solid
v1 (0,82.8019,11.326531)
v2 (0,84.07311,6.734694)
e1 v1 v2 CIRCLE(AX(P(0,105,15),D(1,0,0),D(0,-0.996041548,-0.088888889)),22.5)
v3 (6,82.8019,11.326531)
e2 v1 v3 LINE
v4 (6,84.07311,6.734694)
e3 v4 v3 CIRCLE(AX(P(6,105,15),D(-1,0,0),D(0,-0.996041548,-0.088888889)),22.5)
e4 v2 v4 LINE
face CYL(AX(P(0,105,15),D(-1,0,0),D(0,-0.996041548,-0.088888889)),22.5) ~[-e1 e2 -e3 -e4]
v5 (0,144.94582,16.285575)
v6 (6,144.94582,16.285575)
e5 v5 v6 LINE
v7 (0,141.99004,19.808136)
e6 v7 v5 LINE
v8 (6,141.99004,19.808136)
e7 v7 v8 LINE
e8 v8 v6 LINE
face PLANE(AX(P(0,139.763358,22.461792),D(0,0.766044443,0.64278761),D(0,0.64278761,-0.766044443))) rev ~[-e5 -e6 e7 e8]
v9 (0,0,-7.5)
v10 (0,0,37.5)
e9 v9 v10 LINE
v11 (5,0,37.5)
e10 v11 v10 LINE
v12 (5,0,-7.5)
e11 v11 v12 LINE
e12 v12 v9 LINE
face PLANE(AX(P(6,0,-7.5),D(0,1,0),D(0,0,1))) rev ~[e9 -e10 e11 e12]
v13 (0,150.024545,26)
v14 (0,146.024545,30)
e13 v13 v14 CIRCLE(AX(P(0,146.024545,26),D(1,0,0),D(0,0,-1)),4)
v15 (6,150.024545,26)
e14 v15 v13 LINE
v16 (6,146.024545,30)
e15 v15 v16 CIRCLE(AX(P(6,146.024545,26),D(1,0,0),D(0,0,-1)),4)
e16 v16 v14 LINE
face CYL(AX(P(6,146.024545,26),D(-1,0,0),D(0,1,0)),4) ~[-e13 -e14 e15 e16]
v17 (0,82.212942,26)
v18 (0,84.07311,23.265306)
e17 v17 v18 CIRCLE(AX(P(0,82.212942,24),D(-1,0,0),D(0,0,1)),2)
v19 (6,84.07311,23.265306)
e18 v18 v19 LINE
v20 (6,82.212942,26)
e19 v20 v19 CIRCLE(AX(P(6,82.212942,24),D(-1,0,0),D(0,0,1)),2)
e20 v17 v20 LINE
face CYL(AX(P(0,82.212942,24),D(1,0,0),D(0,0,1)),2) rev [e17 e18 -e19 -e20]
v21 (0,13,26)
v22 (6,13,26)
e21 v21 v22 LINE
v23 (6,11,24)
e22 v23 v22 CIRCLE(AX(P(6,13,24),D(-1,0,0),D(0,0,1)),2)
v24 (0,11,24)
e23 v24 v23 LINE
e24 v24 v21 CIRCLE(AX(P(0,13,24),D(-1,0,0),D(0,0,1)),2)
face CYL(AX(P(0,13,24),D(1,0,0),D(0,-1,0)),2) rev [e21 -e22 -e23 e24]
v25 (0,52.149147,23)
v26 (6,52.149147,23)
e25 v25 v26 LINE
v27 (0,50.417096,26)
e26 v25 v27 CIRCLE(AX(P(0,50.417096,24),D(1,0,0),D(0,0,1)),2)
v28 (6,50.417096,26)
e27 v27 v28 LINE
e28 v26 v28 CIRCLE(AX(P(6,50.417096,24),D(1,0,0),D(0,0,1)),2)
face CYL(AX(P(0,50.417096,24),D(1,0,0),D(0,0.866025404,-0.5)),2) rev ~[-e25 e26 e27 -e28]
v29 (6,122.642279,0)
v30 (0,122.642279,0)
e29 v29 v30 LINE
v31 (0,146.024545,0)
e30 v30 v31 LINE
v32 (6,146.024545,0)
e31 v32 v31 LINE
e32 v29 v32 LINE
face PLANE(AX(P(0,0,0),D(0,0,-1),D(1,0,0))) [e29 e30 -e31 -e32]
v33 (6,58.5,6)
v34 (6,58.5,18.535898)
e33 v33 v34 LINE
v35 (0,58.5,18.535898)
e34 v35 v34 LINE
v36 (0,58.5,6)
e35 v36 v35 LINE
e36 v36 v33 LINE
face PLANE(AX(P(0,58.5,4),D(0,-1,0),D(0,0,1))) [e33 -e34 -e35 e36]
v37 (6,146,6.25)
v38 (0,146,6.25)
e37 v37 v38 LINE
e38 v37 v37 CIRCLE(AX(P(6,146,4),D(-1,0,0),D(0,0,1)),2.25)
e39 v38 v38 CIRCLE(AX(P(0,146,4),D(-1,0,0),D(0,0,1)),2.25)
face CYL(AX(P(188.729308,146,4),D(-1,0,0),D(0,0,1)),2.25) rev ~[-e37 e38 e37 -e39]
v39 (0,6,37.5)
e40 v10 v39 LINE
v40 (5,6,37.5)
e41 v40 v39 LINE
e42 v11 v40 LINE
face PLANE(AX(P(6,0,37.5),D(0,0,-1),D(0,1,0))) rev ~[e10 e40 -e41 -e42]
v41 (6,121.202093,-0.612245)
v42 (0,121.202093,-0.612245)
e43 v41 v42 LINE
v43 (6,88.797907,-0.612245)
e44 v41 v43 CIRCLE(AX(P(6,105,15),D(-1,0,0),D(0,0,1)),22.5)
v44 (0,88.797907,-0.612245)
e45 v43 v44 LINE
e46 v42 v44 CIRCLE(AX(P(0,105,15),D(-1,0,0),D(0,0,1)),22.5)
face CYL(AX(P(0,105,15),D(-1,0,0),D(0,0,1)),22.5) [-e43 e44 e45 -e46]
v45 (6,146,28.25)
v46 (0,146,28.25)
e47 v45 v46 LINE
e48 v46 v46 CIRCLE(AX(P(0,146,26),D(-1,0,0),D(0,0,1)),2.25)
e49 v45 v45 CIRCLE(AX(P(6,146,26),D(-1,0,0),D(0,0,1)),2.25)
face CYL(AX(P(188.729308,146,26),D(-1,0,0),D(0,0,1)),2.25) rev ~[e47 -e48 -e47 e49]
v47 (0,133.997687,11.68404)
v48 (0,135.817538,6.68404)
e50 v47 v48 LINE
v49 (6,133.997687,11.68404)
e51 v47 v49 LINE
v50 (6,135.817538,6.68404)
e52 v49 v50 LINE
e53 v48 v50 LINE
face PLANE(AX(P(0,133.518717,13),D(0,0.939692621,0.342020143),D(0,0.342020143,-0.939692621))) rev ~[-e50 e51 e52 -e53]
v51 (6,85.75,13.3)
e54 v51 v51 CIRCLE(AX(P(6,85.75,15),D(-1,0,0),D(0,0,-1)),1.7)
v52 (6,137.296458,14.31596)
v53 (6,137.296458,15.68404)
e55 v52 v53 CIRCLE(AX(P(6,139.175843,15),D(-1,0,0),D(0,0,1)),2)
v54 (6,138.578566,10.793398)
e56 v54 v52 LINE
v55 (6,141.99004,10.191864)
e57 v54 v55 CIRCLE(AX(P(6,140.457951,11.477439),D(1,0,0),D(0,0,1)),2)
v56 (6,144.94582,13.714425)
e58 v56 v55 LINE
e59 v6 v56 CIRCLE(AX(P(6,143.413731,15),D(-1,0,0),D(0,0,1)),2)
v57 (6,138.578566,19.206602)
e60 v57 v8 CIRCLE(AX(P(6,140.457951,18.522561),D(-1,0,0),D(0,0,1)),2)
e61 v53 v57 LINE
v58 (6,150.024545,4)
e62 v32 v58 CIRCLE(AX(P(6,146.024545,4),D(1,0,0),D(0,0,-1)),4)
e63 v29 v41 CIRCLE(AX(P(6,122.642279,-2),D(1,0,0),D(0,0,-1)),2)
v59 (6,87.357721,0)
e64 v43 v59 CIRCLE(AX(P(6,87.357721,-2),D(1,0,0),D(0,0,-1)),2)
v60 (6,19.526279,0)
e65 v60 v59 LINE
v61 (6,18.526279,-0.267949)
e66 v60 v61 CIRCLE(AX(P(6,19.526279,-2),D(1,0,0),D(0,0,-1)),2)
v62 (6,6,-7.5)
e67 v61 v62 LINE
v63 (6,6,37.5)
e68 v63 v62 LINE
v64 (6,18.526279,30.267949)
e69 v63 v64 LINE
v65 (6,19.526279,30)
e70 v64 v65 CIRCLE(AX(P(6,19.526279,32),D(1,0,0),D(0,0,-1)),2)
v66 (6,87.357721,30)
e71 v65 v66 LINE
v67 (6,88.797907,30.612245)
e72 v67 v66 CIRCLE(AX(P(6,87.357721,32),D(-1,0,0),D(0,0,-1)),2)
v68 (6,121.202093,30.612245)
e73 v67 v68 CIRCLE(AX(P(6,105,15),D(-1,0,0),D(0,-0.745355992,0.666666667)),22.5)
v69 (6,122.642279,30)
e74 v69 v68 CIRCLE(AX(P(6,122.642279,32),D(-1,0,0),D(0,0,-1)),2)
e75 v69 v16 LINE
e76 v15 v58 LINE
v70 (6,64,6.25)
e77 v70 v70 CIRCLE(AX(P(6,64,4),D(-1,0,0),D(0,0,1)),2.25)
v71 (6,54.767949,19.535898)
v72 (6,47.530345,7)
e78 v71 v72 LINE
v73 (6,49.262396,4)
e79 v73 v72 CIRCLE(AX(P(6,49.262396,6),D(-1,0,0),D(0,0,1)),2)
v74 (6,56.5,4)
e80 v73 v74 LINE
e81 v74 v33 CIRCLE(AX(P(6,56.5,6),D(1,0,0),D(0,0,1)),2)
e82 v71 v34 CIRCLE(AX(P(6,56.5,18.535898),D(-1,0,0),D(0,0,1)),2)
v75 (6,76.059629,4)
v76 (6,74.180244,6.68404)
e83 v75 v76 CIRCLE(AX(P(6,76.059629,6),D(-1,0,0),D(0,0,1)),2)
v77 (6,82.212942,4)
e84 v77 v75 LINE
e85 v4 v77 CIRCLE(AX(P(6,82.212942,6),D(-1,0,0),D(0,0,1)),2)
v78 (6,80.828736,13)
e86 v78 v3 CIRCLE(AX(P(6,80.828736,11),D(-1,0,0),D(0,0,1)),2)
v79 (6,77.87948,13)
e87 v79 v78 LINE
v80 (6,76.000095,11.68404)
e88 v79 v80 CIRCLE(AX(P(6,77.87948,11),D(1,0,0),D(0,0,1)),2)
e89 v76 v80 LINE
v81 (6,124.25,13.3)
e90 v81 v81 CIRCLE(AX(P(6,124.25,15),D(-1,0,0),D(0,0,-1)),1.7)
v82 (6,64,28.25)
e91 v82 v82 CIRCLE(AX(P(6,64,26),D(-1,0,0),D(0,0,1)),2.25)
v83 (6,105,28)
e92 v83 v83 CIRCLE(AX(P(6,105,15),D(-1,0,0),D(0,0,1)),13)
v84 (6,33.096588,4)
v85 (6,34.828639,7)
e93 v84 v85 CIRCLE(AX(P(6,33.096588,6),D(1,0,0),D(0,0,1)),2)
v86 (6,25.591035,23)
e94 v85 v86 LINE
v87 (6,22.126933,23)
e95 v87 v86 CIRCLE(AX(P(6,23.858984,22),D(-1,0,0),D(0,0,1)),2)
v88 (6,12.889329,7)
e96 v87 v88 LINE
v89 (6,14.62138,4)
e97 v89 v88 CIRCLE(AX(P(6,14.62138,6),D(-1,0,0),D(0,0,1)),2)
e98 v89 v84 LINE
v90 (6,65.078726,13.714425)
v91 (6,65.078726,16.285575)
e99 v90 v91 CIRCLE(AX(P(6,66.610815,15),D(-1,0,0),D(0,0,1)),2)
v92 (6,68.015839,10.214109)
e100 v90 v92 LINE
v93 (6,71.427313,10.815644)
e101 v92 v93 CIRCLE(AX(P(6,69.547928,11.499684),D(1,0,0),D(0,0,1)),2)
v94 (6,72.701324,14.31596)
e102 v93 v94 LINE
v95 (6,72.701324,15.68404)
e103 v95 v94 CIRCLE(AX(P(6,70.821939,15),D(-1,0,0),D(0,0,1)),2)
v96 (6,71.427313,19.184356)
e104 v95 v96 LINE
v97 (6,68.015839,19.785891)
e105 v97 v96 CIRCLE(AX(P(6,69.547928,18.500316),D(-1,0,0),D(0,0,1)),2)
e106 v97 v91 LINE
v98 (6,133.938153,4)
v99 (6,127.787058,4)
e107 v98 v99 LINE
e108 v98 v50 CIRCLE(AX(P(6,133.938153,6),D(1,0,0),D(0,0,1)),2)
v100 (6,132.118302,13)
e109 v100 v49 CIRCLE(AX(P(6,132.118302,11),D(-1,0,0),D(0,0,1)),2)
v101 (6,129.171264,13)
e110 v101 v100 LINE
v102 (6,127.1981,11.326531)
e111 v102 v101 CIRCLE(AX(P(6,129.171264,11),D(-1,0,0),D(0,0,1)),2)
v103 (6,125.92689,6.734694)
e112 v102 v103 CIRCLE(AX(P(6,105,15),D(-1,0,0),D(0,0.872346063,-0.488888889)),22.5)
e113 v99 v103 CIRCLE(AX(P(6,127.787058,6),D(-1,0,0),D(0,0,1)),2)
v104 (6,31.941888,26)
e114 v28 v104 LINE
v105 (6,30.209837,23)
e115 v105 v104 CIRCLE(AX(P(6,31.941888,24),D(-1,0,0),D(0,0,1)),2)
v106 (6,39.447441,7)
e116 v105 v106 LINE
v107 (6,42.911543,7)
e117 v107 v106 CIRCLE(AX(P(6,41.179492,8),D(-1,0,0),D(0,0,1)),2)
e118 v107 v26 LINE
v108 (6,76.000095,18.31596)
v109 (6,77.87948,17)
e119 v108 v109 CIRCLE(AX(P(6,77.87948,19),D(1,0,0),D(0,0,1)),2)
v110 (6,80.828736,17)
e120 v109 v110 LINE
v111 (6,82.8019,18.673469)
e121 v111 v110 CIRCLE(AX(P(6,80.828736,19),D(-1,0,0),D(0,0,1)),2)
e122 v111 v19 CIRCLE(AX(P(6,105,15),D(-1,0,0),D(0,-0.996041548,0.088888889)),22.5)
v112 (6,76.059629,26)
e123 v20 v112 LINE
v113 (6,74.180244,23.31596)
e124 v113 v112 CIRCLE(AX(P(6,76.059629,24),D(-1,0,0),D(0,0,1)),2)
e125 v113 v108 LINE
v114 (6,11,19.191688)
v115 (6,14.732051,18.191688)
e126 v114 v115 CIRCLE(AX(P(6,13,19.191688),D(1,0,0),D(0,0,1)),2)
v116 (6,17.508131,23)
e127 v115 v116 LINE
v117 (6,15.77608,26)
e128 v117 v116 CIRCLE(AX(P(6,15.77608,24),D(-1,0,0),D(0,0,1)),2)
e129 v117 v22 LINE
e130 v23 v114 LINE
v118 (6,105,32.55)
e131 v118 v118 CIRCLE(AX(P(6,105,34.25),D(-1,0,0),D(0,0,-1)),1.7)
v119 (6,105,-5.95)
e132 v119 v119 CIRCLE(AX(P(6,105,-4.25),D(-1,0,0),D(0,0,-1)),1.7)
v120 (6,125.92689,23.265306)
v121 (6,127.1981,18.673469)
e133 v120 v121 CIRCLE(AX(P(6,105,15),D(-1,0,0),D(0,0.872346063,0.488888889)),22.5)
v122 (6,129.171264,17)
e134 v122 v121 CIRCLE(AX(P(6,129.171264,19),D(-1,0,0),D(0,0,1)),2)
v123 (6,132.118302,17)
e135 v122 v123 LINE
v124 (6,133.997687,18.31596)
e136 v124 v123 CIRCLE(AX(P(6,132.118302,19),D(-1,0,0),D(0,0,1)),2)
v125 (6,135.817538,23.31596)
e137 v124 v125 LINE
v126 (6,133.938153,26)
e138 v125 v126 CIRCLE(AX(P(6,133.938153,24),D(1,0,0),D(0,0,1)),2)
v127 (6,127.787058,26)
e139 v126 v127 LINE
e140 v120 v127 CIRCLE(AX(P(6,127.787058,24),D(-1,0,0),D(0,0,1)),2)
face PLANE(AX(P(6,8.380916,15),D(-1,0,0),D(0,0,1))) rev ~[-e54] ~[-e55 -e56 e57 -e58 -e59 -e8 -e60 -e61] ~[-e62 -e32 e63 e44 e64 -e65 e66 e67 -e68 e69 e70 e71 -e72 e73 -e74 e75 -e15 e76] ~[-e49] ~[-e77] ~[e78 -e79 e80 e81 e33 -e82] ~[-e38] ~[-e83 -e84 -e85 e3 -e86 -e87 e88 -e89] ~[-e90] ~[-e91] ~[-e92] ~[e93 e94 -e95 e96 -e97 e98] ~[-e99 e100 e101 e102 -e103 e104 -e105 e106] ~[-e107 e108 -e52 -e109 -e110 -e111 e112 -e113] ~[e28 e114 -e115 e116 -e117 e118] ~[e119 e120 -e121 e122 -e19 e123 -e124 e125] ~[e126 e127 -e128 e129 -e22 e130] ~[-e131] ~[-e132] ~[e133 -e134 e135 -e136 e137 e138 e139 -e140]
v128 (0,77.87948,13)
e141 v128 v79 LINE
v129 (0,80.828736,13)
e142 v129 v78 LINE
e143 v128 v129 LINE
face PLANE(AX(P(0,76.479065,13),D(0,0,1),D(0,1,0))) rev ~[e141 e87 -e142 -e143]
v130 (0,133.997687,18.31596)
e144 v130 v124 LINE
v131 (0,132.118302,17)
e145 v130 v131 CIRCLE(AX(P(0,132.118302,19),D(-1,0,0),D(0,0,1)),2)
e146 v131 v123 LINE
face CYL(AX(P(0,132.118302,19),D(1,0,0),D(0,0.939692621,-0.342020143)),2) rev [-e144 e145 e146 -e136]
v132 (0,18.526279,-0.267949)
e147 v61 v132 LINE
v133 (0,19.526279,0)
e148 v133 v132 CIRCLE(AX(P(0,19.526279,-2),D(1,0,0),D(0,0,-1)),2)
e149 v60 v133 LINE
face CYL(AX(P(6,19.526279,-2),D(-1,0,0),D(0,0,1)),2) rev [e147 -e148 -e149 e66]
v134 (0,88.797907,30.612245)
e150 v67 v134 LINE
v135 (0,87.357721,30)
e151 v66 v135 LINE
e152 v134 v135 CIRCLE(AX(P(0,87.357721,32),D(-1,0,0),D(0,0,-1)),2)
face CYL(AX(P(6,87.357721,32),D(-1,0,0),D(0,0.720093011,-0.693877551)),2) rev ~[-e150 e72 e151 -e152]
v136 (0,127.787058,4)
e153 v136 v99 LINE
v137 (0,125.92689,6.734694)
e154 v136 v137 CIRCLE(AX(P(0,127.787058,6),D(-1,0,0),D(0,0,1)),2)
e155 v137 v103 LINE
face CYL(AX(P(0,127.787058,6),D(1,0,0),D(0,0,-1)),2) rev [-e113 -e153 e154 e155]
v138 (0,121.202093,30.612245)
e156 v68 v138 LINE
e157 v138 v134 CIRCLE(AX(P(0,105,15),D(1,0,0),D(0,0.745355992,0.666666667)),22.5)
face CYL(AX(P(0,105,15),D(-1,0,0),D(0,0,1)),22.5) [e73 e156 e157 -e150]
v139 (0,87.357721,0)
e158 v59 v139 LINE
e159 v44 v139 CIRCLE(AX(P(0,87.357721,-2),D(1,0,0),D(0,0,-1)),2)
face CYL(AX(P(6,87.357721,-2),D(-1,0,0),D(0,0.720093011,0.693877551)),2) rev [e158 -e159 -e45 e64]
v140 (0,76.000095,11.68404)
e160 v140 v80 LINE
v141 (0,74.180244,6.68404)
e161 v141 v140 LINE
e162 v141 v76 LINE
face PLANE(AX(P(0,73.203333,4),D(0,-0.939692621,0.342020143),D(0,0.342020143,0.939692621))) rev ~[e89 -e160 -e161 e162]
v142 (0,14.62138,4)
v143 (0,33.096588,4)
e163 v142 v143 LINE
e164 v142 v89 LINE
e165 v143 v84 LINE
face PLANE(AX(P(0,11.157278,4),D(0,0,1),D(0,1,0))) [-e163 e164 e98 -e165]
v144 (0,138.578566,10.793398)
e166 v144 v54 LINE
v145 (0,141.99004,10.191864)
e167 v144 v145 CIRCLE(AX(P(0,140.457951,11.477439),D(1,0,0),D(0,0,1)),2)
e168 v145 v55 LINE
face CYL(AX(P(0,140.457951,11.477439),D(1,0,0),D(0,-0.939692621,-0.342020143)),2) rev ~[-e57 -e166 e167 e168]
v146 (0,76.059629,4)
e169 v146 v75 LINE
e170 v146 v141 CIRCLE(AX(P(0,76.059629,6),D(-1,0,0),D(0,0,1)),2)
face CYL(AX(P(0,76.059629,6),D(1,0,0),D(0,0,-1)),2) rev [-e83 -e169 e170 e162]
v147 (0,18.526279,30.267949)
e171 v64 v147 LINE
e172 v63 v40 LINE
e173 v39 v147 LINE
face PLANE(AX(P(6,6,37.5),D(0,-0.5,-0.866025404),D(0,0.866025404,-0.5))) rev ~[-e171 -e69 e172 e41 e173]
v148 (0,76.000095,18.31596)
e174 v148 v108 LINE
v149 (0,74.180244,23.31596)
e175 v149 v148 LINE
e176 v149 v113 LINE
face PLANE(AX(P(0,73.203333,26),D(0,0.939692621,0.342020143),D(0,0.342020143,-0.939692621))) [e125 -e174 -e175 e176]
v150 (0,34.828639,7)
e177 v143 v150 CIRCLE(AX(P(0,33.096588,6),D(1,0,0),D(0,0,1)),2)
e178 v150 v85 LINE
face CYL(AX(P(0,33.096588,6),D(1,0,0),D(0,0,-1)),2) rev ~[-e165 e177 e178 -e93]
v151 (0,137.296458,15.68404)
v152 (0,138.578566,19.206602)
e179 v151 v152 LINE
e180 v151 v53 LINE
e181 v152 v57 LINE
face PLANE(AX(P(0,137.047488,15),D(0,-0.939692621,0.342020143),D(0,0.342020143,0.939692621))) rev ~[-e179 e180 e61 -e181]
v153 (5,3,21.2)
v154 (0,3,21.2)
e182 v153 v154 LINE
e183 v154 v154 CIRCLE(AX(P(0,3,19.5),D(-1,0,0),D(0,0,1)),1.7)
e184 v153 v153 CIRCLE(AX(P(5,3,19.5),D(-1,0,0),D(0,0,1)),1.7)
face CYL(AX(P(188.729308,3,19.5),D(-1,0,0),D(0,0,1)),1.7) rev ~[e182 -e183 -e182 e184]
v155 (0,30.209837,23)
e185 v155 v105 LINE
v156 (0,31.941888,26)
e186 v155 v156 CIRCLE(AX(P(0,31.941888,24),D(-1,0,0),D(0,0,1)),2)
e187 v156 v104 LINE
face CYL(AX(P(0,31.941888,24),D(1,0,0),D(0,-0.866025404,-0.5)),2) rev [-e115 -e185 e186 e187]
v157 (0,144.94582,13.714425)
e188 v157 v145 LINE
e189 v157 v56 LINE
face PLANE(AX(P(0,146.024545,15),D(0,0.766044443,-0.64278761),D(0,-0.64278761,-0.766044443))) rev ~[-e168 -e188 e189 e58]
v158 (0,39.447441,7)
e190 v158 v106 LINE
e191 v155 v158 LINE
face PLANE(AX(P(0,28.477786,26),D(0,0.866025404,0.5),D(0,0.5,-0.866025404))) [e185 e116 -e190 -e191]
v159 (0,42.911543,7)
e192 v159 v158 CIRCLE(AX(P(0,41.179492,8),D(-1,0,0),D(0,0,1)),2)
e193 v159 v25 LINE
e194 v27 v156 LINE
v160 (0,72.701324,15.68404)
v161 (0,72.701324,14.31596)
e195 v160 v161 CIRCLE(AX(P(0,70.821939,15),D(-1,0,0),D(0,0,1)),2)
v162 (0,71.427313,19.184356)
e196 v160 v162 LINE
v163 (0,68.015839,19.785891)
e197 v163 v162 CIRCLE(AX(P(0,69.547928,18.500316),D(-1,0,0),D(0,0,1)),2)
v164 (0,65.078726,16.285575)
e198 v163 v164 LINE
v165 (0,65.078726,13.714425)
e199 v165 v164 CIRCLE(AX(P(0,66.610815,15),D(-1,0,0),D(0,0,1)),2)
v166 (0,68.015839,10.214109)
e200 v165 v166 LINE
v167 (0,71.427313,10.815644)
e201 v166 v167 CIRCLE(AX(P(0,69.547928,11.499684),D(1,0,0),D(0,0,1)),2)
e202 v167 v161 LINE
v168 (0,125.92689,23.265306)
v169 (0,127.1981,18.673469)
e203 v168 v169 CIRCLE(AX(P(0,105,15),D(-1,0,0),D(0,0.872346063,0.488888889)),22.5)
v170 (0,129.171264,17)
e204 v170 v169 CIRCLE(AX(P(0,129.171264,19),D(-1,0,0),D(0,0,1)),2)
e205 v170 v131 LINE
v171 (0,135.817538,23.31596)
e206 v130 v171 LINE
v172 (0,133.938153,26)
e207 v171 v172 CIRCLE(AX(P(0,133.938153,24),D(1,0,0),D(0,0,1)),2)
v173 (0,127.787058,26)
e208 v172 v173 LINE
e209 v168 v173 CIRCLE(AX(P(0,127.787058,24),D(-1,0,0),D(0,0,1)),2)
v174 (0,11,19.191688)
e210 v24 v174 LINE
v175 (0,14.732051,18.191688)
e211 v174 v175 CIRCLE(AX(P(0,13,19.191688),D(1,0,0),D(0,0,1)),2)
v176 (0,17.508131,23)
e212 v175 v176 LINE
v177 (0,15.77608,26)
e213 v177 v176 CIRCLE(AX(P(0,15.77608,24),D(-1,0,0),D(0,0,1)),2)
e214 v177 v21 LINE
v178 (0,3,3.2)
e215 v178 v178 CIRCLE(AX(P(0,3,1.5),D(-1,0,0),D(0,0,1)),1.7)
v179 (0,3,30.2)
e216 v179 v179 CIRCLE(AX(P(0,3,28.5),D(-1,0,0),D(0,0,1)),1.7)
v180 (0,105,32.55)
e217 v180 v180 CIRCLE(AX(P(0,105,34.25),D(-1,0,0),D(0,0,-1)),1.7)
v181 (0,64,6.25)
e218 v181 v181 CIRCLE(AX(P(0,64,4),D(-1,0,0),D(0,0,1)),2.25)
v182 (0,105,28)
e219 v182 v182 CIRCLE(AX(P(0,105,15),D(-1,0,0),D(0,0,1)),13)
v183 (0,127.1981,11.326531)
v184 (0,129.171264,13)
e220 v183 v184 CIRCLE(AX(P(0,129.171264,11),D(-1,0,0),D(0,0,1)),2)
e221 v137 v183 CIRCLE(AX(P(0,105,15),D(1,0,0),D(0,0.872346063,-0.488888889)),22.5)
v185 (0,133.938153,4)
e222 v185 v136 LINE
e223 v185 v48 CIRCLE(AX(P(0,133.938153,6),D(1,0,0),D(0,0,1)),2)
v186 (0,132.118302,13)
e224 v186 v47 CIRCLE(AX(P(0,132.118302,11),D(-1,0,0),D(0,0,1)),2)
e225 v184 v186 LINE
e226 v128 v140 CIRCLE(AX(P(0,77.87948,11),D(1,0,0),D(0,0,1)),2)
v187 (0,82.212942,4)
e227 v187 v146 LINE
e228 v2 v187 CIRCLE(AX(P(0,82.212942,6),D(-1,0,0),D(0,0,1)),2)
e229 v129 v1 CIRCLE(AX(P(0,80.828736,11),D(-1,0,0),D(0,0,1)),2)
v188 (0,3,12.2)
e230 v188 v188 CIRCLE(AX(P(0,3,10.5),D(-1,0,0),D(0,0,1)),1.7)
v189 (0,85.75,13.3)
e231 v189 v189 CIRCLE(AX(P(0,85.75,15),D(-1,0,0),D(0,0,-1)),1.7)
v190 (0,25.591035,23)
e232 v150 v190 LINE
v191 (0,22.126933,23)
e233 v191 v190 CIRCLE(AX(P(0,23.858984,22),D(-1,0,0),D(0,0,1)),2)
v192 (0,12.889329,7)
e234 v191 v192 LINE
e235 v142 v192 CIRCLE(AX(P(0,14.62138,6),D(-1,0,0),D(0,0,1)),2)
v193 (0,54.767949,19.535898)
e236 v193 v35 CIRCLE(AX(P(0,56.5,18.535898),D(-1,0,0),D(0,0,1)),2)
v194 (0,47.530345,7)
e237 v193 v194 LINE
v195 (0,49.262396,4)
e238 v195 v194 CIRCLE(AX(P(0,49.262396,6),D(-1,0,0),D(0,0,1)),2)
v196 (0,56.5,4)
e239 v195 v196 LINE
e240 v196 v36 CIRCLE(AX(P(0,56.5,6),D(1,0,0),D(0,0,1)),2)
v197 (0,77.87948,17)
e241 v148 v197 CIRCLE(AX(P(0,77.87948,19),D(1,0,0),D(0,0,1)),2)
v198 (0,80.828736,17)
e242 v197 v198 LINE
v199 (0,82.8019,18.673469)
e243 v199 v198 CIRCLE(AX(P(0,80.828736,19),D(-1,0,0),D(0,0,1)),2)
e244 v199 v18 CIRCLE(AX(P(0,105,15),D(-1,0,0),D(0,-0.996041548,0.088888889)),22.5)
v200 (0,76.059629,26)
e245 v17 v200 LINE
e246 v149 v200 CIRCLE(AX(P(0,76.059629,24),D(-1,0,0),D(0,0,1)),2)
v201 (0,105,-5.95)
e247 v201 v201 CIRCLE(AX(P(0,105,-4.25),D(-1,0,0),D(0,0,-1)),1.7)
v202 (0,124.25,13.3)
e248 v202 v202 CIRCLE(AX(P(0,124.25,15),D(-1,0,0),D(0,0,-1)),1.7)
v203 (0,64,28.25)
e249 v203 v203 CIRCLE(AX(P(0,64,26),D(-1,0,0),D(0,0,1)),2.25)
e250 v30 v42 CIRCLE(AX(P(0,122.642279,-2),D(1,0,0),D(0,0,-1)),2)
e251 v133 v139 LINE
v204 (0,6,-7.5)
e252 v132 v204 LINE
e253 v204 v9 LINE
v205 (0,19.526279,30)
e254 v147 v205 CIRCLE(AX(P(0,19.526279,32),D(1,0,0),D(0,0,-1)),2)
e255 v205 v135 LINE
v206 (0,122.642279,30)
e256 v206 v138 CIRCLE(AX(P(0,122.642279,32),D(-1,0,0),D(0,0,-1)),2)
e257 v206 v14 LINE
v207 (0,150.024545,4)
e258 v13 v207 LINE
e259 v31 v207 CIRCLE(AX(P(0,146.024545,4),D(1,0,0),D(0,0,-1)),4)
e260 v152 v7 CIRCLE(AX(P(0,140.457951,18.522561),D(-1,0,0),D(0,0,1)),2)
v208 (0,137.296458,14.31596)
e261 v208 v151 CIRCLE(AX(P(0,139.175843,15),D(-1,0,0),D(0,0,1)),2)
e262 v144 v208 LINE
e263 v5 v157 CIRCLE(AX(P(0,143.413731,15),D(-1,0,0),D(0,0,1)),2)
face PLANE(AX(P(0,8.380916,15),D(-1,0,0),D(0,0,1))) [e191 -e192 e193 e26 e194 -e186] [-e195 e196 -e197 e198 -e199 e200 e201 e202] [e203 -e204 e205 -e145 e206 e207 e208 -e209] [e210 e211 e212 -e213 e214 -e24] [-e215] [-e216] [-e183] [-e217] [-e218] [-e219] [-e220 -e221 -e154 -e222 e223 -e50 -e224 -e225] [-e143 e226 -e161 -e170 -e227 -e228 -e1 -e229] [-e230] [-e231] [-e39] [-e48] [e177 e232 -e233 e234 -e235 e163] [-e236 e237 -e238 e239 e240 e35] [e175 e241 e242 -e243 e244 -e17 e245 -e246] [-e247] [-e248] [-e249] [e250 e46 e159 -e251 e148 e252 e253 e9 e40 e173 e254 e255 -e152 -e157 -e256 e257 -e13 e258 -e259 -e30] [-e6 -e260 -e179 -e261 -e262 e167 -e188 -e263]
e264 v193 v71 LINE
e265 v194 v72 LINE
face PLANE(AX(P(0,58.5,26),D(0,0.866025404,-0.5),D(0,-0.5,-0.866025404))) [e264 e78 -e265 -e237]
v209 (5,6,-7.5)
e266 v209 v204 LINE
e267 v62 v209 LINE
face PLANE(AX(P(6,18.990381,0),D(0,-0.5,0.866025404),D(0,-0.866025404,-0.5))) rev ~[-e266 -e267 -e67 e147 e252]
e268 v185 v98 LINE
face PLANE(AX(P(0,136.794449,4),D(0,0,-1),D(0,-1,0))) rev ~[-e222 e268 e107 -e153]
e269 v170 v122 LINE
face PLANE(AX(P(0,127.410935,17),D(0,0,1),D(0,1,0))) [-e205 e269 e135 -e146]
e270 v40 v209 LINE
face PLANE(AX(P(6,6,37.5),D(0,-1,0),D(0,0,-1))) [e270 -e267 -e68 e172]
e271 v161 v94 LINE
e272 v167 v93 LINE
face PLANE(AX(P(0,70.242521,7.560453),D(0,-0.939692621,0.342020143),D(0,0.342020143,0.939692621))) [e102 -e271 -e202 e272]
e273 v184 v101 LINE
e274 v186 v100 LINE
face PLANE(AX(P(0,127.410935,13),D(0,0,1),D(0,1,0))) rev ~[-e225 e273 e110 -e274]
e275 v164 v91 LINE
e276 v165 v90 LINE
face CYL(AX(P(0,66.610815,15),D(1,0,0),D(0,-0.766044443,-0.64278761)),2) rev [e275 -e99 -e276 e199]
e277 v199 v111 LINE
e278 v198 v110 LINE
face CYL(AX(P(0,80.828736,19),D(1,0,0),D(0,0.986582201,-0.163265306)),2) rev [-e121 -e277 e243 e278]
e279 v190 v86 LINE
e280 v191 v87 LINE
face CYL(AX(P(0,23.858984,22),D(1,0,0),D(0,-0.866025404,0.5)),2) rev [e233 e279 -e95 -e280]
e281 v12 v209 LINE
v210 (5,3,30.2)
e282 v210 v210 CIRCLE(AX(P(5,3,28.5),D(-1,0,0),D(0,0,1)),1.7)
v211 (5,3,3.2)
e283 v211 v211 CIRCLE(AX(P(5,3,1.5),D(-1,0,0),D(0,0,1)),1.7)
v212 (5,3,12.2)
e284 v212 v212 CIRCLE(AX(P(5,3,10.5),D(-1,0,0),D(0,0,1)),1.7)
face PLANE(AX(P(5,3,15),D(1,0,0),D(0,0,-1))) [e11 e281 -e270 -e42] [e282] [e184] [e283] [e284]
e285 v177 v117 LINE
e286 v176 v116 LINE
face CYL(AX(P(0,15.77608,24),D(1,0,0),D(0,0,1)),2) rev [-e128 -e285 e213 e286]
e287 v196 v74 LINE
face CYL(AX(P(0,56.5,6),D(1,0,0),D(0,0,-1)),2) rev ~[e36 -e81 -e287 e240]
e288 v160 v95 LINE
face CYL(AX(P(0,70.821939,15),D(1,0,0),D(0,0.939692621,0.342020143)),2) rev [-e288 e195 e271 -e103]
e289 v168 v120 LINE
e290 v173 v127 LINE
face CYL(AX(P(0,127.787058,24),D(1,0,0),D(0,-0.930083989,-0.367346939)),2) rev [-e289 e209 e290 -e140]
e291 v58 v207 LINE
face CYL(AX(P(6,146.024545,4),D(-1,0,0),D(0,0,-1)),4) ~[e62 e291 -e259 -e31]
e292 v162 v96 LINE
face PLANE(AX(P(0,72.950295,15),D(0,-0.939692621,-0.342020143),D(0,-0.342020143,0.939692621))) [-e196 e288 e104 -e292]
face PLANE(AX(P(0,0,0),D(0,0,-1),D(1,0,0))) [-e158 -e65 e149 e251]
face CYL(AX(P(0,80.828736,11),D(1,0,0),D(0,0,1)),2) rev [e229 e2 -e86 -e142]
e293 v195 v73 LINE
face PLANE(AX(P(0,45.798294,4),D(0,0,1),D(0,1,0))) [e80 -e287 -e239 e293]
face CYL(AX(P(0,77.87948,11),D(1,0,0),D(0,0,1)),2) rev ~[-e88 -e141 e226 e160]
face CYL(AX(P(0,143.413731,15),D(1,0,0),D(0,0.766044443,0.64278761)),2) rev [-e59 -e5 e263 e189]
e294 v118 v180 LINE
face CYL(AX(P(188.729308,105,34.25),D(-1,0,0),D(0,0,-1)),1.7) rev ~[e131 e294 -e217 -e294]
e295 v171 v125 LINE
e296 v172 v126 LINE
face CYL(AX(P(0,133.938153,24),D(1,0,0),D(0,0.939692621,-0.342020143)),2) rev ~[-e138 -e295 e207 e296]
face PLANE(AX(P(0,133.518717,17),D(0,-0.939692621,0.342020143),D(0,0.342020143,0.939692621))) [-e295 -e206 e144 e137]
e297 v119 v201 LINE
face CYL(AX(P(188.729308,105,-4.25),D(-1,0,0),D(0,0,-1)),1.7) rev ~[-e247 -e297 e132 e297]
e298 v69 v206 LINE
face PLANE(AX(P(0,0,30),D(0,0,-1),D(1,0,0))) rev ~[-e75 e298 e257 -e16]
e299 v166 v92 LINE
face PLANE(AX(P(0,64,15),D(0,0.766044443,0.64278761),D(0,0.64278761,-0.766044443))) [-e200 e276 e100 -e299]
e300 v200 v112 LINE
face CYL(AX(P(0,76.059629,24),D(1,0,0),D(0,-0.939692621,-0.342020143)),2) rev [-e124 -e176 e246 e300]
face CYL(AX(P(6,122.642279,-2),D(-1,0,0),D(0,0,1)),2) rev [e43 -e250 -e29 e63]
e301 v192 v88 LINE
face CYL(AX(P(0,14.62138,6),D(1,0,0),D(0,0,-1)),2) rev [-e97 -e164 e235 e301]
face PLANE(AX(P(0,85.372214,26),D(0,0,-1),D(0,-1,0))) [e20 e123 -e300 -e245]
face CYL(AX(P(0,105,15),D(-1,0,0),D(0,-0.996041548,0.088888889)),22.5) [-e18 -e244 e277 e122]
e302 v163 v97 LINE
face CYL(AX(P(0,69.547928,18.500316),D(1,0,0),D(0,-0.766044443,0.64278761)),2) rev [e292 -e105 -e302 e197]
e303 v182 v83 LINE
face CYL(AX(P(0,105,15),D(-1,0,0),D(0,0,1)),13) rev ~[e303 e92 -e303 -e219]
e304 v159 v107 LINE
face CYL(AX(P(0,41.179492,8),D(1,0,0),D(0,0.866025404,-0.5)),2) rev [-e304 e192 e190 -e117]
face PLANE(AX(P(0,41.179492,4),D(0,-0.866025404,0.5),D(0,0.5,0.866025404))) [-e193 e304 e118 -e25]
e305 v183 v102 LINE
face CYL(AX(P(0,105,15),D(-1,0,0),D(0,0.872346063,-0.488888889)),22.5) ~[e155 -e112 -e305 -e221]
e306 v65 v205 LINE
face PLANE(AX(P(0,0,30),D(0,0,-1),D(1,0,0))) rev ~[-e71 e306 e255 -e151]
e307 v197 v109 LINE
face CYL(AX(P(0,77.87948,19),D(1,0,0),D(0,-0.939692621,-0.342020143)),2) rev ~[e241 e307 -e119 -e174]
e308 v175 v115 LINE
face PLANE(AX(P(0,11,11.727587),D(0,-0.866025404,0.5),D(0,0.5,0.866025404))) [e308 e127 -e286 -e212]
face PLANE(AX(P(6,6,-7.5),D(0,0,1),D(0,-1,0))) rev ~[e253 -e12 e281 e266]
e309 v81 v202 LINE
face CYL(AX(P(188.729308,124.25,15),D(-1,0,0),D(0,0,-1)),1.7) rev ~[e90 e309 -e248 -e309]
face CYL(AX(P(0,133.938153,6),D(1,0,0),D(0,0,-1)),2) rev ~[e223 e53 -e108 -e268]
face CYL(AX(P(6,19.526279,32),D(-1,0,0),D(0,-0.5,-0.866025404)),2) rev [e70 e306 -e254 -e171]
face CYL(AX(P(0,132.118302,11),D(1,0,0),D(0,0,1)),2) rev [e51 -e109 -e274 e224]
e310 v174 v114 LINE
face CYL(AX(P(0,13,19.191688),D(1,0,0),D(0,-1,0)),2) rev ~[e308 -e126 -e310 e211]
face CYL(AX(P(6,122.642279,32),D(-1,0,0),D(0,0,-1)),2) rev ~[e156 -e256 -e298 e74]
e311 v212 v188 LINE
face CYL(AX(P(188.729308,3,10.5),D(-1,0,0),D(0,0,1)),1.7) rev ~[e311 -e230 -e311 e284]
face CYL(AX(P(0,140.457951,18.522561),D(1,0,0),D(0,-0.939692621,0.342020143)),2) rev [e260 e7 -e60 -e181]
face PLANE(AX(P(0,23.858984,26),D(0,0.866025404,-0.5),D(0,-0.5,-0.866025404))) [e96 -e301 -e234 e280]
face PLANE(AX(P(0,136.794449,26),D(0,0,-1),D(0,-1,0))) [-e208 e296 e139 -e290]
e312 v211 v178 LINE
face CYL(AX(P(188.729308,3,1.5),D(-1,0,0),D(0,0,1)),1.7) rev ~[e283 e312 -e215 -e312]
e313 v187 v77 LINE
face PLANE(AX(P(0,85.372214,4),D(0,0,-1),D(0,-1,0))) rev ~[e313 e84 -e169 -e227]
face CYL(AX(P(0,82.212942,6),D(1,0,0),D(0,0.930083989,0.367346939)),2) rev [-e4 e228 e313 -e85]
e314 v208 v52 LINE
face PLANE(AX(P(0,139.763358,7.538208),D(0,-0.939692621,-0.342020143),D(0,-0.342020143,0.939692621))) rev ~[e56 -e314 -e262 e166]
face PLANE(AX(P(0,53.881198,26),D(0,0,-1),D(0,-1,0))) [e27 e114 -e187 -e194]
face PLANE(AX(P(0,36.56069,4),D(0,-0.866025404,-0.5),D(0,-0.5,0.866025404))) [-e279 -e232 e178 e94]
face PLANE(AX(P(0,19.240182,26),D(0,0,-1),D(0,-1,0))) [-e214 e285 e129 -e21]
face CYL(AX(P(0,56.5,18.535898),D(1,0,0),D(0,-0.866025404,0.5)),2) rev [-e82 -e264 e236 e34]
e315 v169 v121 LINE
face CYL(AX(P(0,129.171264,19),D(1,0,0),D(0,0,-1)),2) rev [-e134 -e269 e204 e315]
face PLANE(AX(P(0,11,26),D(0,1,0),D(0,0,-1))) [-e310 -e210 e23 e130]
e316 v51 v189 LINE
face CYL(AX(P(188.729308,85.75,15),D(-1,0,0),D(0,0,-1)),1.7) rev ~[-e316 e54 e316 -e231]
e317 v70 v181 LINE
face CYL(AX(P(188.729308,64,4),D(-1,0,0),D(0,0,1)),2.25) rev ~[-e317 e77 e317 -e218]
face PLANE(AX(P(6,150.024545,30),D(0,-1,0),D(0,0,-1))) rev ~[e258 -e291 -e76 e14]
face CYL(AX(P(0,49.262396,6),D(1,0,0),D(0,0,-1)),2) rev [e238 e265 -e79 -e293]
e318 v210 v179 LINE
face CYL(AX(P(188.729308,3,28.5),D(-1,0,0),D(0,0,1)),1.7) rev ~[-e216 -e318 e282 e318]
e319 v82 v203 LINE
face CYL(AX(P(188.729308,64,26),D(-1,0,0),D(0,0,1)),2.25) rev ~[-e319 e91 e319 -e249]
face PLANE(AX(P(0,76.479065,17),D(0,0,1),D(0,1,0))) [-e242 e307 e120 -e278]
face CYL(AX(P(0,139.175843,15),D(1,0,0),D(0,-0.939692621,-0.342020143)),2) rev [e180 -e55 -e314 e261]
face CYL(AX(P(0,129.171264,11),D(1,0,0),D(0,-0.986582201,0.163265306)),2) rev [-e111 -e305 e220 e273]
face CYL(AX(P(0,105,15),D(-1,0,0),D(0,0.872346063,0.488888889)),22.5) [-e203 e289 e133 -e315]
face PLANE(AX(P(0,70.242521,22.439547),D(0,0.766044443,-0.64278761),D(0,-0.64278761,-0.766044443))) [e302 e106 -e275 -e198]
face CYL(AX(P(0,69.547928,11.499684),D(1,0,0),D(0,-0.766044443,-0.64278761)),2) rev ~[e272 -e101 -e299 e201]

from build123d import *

# Parameters (mm, degrees)
SKETCH_1_W          = 6
SKETCH_1_H          = 30
EXTRUDE_1_DEPTH     = 177
SKETCH_2_R          = 22.5
EXTRUDE_2_DEPTH     = 6
SKETCH_3_R          = 13
CUT_EXTRUDE_1_DEPTH = 182.028312703
HOLE_WIZARD_M32_D   = 3.4
HOLE_WIZARD_M41_D   = 4.5
EXTRUDE_3_DEPTH     = 6
HOLE_WIZARD_M31_D   = 3.4
SKETCH_14_W         = 45
SKETCH_14_H         = 6
CUT_EXTRUDE_2_DEPTH = 1
SKETCH_15_W         = 30
SKETCH_15_H         = 26.9754548
CUT_EXTRUDE_3_DEPTH = 6
FILLET_1_R          = 4
CUT_EXTRUDE_4_DEPTH = 155.756628816
FILLET_3_R          = 2


with BuildPart() as part:
    # Эскиз1 → Бобышка-Вытянуть1 (new body)
    with BuildSketch(Plane(origin=(0, 0, 0), x_dir=(1, 0, 0), z_dir=(0, 1, 0))):
        with Locations((3, -15)):
            Rectangle(SKETCH_1_W, SKETCH_1_H)
    extrude(amount=EXTRUDE_1_DEPTH)

    # Эскиз2 → Бобышка-Вытянуть2 (add)
    with BuildSketch(Plane.ZY):
        with Locations((15, 105)):
            Circle(SKETCH_2_R)
    extrude(amount=-EXTRUDE_2_DEPTH)

    # Эскиз3 → Вырез-Вытянуть1 (cut, through all)
    with BuildSketch(Plane.ZY):
        with Locations((15, 105)):
            Circle(SKETCH_3_R)
    extrude(amount=-CUT_EXTRUDE_1_DEPTH, mode=Mode.SUBTRACT)

    # Отверстие с зазором M32 (through all)
    with Locations(Plane(origin=(6, -25.024735225, 7.262908886), x_dir=(0, 0, 1), z_dir=(1, 0, 0))):
        with Locations((-11.512908886, -130.024735225), (7.737091114, -110.774735225), (26.987091114, -130.024735225), (7.737091114, -149.274735225)):
            Hole(HOLE_WIZARD_M32_D / 2)

    # Отверстие с зазором M41 (through all)
    with Locations(Plane(origin=(6, 0, 0), x_dir=(0, 0, -1), z_dir=(1, 0, 0))):
        with Locations((-26, 146), (-4, 146), (-4, 64), (-26, 64)):
            Hole(HOLE_WIZARD_M41_D / 2)

    # Эскиз11 → Бобышка-Вытянуть3 (add)
    with BuildSketch(Plane(origin=(6, 0, 0), x_dir=(0, 0, -1), z_dir=(1, 0, 0))):
        Polygon((0, 18.990381057), (7.5, 6), (7.5, 0), (-37.5, 0), (-37.5, 6), (-30, 18.990381057), align=None)
    extrude(amount=-EXTRUDE_3_DEPTH)

    # Отверстие с зазором M31 (through all)
    with Locations(Plane(origin=(6, 0, 0), x_dir=(0, 0, -1), z_dir=(1, 0, 0))):
        with Locations((-28.5, 3), (-19.5, 3), (-10.5, 3), (-1.5, 3)):
            Hole(HOLE_WIZARD_M31_D / 2)

    # Эскиз14 → Вырез-Вытянуть2 (cut)
    with BuildSketch(Plane(origin=(6, 0, 0), x_dir=(0, 0, -1), z_dir=(1, 0, 0))):
        with Locations((-15, 3)):
            Rectangle(SKETCH_14_W, SKETCH_14_H)
    extrude(amount=-CUT_EXTRUDE_2_DEPTH, mode=Mode.SUBTRACT)

    # Эскиз15 → Вырез-Вытянуть3 (cut)
    with BuildSketch(Plane(origin=(6, 0, 0), x_dir=(0, 0, -1), z_dir=(1, 0, 0))):
        with Locations((-15, 163.5122726)):
            Rectangle(SKETCH_15_W, SKETCH_15_H)
    extrude(amount=-CUT_EXTRUDE_3_DEPTH, mode=Mode.SUBTRACT)

    # Скругление1
    fillet_1_edges = [part.edges().sort_by_distance(p)[0] for p in [
        (3, 150.0245452, 30),
        (3, 150.0245452, 0),
    ]]
    fillet(fillet_1_edges, radius=FILLET_1_R)

    # Эскиз16 → Вырез-Вытянуть4 (cut, through all)
    with BuildSketch(Plane.ZY):
        with BuildLine():
            Line((4, 136.794449257), (4, 124.627786426))
            ThreePointArc((4, 124.627786426), (8.352708916, 126.495662847), (13, 127.410934831))
            Line((13, 127.410934831), (13, 133.518717149))
            Line((13, 133.518717149), (4, 136.794449257))
        make_face()
        with BuildLine():
            Line((26, 136.794449257), (26, 124.627786426))
            ThreePointArc((26, 124.627786426), (21.647291084, 126.495662847), (17, 127.410934831))
            Line((17, 127.410934831), (17, 133.518717149))
            Line((17, 133.518717149), (26, 136.794449257))
        make_face()
        Polygon((7.538207724, 139.763358053), (15, 137.04748777), (22.461792276, 139.763358053), (15, 146.0245452), align=None)
        with BuildLine():
            Line((13, 76.479065169), (13, 82.589065169))
            ThreePointArc((13, 82.589065169), (8.352708916, 83.504337153), (4, 85.372213574))
            Line((4, 85.372213574), (4, 73.203333061))
            Line((4, 73.203333061), (13, 76.479065169))
        make_face()
        with BuildLine():
            Line((17, 76.479065169), (17, 82.589065169))
            ThreePointArc((17, 82.589065169), (21.647291084, 83.504337153), (26, 85.372213574))
            Line((26, 85.372213574), (26, 73.203333061))
            Line((26, 73.203333061), (17, 76.479065169))
        make_face()
        Polygon((7.560453217, 70.242520962), (15, 72.950294548), (22.439546783, 70.242520962), (15, 64), align=None)
        Polygon((26, 53.881197846), (26, 28.477786002), (4, 41.179491924), align=None)
        Polygon((4, 58.5), (26, 58.5), (4, 45.798294078), align=None)
        Polygon((4, 36.560689771), (26, 23.858983849), (4, 11.157277926), align=None)
        Polygon((11.72758664, 11), (26, 19.240181695), (26, 11), align=None)
    extrude(amount=-CUT_EXTRUDE_4_DEPTH, mode=Mode.SUBTRACT)

    # Скругление3
    fillet_3_edges = [part.edges().sort_by_distance(p)[0] for p in [
        (3, 88.229490169, 0),
        (3, 121.770509831, 0),
        (3, 127.410934831, 13),
        (3, 124.627786426, 4),
        (3, 136.794449257, 4),
        (3, 133.518717149, 13),
        (3, 88.229490169, 30),
        (3, 124.627786426, 26),
        (3, 121.770509831, 30),
        (3, 127.410934831, 17),
        (3, 133.518717149, 17),
        (3, 136.794449257, 26),
        (3, 146.0245452, 15),
        (3, 139.763358053, 22.461792276),
        (3, 137.04748777, 15),
        (3, 139.763358053, 7.538207724),
        (3, 76.479065169, 13),
        (3, 73.203333061, 4),
        (3, 85.372213574, 4),
        (3, 82.589065169, 13),
        (3, 73.203333061, 26),
        (3, 76.479065169, 17),
        (3, 82.589065169, 17),
        (3, 85.372213574, 26),
        (3, 64, 15),
        (3, 70.242520962, 7.560453217),
        (3, 72.950294548, 15),
        (3, 70.242520962, 22.439546783),
        (3, 41.179491924, 4),
        (3, 53.881197846, 26),
        (3, 28.477786002, 26),
        (3, 45.798294078, 4),
        (3, 58.5, 4),
        (3, 58.5, 26),
        (3, 11.157277926, 4),
        (3, 36.560689771, 4),
        (3, 23.858983849, 26),
        (3, 11, 26),
        (3, 11, 11.72758664),
        (3, 19.240181695, 26),
        (3, 18.990381057, 30),
        (3, 18.990381057, 0),
    ]]
    fillet(fillet_3_edges, radius=FILLET_3_R)


solid = part.part
